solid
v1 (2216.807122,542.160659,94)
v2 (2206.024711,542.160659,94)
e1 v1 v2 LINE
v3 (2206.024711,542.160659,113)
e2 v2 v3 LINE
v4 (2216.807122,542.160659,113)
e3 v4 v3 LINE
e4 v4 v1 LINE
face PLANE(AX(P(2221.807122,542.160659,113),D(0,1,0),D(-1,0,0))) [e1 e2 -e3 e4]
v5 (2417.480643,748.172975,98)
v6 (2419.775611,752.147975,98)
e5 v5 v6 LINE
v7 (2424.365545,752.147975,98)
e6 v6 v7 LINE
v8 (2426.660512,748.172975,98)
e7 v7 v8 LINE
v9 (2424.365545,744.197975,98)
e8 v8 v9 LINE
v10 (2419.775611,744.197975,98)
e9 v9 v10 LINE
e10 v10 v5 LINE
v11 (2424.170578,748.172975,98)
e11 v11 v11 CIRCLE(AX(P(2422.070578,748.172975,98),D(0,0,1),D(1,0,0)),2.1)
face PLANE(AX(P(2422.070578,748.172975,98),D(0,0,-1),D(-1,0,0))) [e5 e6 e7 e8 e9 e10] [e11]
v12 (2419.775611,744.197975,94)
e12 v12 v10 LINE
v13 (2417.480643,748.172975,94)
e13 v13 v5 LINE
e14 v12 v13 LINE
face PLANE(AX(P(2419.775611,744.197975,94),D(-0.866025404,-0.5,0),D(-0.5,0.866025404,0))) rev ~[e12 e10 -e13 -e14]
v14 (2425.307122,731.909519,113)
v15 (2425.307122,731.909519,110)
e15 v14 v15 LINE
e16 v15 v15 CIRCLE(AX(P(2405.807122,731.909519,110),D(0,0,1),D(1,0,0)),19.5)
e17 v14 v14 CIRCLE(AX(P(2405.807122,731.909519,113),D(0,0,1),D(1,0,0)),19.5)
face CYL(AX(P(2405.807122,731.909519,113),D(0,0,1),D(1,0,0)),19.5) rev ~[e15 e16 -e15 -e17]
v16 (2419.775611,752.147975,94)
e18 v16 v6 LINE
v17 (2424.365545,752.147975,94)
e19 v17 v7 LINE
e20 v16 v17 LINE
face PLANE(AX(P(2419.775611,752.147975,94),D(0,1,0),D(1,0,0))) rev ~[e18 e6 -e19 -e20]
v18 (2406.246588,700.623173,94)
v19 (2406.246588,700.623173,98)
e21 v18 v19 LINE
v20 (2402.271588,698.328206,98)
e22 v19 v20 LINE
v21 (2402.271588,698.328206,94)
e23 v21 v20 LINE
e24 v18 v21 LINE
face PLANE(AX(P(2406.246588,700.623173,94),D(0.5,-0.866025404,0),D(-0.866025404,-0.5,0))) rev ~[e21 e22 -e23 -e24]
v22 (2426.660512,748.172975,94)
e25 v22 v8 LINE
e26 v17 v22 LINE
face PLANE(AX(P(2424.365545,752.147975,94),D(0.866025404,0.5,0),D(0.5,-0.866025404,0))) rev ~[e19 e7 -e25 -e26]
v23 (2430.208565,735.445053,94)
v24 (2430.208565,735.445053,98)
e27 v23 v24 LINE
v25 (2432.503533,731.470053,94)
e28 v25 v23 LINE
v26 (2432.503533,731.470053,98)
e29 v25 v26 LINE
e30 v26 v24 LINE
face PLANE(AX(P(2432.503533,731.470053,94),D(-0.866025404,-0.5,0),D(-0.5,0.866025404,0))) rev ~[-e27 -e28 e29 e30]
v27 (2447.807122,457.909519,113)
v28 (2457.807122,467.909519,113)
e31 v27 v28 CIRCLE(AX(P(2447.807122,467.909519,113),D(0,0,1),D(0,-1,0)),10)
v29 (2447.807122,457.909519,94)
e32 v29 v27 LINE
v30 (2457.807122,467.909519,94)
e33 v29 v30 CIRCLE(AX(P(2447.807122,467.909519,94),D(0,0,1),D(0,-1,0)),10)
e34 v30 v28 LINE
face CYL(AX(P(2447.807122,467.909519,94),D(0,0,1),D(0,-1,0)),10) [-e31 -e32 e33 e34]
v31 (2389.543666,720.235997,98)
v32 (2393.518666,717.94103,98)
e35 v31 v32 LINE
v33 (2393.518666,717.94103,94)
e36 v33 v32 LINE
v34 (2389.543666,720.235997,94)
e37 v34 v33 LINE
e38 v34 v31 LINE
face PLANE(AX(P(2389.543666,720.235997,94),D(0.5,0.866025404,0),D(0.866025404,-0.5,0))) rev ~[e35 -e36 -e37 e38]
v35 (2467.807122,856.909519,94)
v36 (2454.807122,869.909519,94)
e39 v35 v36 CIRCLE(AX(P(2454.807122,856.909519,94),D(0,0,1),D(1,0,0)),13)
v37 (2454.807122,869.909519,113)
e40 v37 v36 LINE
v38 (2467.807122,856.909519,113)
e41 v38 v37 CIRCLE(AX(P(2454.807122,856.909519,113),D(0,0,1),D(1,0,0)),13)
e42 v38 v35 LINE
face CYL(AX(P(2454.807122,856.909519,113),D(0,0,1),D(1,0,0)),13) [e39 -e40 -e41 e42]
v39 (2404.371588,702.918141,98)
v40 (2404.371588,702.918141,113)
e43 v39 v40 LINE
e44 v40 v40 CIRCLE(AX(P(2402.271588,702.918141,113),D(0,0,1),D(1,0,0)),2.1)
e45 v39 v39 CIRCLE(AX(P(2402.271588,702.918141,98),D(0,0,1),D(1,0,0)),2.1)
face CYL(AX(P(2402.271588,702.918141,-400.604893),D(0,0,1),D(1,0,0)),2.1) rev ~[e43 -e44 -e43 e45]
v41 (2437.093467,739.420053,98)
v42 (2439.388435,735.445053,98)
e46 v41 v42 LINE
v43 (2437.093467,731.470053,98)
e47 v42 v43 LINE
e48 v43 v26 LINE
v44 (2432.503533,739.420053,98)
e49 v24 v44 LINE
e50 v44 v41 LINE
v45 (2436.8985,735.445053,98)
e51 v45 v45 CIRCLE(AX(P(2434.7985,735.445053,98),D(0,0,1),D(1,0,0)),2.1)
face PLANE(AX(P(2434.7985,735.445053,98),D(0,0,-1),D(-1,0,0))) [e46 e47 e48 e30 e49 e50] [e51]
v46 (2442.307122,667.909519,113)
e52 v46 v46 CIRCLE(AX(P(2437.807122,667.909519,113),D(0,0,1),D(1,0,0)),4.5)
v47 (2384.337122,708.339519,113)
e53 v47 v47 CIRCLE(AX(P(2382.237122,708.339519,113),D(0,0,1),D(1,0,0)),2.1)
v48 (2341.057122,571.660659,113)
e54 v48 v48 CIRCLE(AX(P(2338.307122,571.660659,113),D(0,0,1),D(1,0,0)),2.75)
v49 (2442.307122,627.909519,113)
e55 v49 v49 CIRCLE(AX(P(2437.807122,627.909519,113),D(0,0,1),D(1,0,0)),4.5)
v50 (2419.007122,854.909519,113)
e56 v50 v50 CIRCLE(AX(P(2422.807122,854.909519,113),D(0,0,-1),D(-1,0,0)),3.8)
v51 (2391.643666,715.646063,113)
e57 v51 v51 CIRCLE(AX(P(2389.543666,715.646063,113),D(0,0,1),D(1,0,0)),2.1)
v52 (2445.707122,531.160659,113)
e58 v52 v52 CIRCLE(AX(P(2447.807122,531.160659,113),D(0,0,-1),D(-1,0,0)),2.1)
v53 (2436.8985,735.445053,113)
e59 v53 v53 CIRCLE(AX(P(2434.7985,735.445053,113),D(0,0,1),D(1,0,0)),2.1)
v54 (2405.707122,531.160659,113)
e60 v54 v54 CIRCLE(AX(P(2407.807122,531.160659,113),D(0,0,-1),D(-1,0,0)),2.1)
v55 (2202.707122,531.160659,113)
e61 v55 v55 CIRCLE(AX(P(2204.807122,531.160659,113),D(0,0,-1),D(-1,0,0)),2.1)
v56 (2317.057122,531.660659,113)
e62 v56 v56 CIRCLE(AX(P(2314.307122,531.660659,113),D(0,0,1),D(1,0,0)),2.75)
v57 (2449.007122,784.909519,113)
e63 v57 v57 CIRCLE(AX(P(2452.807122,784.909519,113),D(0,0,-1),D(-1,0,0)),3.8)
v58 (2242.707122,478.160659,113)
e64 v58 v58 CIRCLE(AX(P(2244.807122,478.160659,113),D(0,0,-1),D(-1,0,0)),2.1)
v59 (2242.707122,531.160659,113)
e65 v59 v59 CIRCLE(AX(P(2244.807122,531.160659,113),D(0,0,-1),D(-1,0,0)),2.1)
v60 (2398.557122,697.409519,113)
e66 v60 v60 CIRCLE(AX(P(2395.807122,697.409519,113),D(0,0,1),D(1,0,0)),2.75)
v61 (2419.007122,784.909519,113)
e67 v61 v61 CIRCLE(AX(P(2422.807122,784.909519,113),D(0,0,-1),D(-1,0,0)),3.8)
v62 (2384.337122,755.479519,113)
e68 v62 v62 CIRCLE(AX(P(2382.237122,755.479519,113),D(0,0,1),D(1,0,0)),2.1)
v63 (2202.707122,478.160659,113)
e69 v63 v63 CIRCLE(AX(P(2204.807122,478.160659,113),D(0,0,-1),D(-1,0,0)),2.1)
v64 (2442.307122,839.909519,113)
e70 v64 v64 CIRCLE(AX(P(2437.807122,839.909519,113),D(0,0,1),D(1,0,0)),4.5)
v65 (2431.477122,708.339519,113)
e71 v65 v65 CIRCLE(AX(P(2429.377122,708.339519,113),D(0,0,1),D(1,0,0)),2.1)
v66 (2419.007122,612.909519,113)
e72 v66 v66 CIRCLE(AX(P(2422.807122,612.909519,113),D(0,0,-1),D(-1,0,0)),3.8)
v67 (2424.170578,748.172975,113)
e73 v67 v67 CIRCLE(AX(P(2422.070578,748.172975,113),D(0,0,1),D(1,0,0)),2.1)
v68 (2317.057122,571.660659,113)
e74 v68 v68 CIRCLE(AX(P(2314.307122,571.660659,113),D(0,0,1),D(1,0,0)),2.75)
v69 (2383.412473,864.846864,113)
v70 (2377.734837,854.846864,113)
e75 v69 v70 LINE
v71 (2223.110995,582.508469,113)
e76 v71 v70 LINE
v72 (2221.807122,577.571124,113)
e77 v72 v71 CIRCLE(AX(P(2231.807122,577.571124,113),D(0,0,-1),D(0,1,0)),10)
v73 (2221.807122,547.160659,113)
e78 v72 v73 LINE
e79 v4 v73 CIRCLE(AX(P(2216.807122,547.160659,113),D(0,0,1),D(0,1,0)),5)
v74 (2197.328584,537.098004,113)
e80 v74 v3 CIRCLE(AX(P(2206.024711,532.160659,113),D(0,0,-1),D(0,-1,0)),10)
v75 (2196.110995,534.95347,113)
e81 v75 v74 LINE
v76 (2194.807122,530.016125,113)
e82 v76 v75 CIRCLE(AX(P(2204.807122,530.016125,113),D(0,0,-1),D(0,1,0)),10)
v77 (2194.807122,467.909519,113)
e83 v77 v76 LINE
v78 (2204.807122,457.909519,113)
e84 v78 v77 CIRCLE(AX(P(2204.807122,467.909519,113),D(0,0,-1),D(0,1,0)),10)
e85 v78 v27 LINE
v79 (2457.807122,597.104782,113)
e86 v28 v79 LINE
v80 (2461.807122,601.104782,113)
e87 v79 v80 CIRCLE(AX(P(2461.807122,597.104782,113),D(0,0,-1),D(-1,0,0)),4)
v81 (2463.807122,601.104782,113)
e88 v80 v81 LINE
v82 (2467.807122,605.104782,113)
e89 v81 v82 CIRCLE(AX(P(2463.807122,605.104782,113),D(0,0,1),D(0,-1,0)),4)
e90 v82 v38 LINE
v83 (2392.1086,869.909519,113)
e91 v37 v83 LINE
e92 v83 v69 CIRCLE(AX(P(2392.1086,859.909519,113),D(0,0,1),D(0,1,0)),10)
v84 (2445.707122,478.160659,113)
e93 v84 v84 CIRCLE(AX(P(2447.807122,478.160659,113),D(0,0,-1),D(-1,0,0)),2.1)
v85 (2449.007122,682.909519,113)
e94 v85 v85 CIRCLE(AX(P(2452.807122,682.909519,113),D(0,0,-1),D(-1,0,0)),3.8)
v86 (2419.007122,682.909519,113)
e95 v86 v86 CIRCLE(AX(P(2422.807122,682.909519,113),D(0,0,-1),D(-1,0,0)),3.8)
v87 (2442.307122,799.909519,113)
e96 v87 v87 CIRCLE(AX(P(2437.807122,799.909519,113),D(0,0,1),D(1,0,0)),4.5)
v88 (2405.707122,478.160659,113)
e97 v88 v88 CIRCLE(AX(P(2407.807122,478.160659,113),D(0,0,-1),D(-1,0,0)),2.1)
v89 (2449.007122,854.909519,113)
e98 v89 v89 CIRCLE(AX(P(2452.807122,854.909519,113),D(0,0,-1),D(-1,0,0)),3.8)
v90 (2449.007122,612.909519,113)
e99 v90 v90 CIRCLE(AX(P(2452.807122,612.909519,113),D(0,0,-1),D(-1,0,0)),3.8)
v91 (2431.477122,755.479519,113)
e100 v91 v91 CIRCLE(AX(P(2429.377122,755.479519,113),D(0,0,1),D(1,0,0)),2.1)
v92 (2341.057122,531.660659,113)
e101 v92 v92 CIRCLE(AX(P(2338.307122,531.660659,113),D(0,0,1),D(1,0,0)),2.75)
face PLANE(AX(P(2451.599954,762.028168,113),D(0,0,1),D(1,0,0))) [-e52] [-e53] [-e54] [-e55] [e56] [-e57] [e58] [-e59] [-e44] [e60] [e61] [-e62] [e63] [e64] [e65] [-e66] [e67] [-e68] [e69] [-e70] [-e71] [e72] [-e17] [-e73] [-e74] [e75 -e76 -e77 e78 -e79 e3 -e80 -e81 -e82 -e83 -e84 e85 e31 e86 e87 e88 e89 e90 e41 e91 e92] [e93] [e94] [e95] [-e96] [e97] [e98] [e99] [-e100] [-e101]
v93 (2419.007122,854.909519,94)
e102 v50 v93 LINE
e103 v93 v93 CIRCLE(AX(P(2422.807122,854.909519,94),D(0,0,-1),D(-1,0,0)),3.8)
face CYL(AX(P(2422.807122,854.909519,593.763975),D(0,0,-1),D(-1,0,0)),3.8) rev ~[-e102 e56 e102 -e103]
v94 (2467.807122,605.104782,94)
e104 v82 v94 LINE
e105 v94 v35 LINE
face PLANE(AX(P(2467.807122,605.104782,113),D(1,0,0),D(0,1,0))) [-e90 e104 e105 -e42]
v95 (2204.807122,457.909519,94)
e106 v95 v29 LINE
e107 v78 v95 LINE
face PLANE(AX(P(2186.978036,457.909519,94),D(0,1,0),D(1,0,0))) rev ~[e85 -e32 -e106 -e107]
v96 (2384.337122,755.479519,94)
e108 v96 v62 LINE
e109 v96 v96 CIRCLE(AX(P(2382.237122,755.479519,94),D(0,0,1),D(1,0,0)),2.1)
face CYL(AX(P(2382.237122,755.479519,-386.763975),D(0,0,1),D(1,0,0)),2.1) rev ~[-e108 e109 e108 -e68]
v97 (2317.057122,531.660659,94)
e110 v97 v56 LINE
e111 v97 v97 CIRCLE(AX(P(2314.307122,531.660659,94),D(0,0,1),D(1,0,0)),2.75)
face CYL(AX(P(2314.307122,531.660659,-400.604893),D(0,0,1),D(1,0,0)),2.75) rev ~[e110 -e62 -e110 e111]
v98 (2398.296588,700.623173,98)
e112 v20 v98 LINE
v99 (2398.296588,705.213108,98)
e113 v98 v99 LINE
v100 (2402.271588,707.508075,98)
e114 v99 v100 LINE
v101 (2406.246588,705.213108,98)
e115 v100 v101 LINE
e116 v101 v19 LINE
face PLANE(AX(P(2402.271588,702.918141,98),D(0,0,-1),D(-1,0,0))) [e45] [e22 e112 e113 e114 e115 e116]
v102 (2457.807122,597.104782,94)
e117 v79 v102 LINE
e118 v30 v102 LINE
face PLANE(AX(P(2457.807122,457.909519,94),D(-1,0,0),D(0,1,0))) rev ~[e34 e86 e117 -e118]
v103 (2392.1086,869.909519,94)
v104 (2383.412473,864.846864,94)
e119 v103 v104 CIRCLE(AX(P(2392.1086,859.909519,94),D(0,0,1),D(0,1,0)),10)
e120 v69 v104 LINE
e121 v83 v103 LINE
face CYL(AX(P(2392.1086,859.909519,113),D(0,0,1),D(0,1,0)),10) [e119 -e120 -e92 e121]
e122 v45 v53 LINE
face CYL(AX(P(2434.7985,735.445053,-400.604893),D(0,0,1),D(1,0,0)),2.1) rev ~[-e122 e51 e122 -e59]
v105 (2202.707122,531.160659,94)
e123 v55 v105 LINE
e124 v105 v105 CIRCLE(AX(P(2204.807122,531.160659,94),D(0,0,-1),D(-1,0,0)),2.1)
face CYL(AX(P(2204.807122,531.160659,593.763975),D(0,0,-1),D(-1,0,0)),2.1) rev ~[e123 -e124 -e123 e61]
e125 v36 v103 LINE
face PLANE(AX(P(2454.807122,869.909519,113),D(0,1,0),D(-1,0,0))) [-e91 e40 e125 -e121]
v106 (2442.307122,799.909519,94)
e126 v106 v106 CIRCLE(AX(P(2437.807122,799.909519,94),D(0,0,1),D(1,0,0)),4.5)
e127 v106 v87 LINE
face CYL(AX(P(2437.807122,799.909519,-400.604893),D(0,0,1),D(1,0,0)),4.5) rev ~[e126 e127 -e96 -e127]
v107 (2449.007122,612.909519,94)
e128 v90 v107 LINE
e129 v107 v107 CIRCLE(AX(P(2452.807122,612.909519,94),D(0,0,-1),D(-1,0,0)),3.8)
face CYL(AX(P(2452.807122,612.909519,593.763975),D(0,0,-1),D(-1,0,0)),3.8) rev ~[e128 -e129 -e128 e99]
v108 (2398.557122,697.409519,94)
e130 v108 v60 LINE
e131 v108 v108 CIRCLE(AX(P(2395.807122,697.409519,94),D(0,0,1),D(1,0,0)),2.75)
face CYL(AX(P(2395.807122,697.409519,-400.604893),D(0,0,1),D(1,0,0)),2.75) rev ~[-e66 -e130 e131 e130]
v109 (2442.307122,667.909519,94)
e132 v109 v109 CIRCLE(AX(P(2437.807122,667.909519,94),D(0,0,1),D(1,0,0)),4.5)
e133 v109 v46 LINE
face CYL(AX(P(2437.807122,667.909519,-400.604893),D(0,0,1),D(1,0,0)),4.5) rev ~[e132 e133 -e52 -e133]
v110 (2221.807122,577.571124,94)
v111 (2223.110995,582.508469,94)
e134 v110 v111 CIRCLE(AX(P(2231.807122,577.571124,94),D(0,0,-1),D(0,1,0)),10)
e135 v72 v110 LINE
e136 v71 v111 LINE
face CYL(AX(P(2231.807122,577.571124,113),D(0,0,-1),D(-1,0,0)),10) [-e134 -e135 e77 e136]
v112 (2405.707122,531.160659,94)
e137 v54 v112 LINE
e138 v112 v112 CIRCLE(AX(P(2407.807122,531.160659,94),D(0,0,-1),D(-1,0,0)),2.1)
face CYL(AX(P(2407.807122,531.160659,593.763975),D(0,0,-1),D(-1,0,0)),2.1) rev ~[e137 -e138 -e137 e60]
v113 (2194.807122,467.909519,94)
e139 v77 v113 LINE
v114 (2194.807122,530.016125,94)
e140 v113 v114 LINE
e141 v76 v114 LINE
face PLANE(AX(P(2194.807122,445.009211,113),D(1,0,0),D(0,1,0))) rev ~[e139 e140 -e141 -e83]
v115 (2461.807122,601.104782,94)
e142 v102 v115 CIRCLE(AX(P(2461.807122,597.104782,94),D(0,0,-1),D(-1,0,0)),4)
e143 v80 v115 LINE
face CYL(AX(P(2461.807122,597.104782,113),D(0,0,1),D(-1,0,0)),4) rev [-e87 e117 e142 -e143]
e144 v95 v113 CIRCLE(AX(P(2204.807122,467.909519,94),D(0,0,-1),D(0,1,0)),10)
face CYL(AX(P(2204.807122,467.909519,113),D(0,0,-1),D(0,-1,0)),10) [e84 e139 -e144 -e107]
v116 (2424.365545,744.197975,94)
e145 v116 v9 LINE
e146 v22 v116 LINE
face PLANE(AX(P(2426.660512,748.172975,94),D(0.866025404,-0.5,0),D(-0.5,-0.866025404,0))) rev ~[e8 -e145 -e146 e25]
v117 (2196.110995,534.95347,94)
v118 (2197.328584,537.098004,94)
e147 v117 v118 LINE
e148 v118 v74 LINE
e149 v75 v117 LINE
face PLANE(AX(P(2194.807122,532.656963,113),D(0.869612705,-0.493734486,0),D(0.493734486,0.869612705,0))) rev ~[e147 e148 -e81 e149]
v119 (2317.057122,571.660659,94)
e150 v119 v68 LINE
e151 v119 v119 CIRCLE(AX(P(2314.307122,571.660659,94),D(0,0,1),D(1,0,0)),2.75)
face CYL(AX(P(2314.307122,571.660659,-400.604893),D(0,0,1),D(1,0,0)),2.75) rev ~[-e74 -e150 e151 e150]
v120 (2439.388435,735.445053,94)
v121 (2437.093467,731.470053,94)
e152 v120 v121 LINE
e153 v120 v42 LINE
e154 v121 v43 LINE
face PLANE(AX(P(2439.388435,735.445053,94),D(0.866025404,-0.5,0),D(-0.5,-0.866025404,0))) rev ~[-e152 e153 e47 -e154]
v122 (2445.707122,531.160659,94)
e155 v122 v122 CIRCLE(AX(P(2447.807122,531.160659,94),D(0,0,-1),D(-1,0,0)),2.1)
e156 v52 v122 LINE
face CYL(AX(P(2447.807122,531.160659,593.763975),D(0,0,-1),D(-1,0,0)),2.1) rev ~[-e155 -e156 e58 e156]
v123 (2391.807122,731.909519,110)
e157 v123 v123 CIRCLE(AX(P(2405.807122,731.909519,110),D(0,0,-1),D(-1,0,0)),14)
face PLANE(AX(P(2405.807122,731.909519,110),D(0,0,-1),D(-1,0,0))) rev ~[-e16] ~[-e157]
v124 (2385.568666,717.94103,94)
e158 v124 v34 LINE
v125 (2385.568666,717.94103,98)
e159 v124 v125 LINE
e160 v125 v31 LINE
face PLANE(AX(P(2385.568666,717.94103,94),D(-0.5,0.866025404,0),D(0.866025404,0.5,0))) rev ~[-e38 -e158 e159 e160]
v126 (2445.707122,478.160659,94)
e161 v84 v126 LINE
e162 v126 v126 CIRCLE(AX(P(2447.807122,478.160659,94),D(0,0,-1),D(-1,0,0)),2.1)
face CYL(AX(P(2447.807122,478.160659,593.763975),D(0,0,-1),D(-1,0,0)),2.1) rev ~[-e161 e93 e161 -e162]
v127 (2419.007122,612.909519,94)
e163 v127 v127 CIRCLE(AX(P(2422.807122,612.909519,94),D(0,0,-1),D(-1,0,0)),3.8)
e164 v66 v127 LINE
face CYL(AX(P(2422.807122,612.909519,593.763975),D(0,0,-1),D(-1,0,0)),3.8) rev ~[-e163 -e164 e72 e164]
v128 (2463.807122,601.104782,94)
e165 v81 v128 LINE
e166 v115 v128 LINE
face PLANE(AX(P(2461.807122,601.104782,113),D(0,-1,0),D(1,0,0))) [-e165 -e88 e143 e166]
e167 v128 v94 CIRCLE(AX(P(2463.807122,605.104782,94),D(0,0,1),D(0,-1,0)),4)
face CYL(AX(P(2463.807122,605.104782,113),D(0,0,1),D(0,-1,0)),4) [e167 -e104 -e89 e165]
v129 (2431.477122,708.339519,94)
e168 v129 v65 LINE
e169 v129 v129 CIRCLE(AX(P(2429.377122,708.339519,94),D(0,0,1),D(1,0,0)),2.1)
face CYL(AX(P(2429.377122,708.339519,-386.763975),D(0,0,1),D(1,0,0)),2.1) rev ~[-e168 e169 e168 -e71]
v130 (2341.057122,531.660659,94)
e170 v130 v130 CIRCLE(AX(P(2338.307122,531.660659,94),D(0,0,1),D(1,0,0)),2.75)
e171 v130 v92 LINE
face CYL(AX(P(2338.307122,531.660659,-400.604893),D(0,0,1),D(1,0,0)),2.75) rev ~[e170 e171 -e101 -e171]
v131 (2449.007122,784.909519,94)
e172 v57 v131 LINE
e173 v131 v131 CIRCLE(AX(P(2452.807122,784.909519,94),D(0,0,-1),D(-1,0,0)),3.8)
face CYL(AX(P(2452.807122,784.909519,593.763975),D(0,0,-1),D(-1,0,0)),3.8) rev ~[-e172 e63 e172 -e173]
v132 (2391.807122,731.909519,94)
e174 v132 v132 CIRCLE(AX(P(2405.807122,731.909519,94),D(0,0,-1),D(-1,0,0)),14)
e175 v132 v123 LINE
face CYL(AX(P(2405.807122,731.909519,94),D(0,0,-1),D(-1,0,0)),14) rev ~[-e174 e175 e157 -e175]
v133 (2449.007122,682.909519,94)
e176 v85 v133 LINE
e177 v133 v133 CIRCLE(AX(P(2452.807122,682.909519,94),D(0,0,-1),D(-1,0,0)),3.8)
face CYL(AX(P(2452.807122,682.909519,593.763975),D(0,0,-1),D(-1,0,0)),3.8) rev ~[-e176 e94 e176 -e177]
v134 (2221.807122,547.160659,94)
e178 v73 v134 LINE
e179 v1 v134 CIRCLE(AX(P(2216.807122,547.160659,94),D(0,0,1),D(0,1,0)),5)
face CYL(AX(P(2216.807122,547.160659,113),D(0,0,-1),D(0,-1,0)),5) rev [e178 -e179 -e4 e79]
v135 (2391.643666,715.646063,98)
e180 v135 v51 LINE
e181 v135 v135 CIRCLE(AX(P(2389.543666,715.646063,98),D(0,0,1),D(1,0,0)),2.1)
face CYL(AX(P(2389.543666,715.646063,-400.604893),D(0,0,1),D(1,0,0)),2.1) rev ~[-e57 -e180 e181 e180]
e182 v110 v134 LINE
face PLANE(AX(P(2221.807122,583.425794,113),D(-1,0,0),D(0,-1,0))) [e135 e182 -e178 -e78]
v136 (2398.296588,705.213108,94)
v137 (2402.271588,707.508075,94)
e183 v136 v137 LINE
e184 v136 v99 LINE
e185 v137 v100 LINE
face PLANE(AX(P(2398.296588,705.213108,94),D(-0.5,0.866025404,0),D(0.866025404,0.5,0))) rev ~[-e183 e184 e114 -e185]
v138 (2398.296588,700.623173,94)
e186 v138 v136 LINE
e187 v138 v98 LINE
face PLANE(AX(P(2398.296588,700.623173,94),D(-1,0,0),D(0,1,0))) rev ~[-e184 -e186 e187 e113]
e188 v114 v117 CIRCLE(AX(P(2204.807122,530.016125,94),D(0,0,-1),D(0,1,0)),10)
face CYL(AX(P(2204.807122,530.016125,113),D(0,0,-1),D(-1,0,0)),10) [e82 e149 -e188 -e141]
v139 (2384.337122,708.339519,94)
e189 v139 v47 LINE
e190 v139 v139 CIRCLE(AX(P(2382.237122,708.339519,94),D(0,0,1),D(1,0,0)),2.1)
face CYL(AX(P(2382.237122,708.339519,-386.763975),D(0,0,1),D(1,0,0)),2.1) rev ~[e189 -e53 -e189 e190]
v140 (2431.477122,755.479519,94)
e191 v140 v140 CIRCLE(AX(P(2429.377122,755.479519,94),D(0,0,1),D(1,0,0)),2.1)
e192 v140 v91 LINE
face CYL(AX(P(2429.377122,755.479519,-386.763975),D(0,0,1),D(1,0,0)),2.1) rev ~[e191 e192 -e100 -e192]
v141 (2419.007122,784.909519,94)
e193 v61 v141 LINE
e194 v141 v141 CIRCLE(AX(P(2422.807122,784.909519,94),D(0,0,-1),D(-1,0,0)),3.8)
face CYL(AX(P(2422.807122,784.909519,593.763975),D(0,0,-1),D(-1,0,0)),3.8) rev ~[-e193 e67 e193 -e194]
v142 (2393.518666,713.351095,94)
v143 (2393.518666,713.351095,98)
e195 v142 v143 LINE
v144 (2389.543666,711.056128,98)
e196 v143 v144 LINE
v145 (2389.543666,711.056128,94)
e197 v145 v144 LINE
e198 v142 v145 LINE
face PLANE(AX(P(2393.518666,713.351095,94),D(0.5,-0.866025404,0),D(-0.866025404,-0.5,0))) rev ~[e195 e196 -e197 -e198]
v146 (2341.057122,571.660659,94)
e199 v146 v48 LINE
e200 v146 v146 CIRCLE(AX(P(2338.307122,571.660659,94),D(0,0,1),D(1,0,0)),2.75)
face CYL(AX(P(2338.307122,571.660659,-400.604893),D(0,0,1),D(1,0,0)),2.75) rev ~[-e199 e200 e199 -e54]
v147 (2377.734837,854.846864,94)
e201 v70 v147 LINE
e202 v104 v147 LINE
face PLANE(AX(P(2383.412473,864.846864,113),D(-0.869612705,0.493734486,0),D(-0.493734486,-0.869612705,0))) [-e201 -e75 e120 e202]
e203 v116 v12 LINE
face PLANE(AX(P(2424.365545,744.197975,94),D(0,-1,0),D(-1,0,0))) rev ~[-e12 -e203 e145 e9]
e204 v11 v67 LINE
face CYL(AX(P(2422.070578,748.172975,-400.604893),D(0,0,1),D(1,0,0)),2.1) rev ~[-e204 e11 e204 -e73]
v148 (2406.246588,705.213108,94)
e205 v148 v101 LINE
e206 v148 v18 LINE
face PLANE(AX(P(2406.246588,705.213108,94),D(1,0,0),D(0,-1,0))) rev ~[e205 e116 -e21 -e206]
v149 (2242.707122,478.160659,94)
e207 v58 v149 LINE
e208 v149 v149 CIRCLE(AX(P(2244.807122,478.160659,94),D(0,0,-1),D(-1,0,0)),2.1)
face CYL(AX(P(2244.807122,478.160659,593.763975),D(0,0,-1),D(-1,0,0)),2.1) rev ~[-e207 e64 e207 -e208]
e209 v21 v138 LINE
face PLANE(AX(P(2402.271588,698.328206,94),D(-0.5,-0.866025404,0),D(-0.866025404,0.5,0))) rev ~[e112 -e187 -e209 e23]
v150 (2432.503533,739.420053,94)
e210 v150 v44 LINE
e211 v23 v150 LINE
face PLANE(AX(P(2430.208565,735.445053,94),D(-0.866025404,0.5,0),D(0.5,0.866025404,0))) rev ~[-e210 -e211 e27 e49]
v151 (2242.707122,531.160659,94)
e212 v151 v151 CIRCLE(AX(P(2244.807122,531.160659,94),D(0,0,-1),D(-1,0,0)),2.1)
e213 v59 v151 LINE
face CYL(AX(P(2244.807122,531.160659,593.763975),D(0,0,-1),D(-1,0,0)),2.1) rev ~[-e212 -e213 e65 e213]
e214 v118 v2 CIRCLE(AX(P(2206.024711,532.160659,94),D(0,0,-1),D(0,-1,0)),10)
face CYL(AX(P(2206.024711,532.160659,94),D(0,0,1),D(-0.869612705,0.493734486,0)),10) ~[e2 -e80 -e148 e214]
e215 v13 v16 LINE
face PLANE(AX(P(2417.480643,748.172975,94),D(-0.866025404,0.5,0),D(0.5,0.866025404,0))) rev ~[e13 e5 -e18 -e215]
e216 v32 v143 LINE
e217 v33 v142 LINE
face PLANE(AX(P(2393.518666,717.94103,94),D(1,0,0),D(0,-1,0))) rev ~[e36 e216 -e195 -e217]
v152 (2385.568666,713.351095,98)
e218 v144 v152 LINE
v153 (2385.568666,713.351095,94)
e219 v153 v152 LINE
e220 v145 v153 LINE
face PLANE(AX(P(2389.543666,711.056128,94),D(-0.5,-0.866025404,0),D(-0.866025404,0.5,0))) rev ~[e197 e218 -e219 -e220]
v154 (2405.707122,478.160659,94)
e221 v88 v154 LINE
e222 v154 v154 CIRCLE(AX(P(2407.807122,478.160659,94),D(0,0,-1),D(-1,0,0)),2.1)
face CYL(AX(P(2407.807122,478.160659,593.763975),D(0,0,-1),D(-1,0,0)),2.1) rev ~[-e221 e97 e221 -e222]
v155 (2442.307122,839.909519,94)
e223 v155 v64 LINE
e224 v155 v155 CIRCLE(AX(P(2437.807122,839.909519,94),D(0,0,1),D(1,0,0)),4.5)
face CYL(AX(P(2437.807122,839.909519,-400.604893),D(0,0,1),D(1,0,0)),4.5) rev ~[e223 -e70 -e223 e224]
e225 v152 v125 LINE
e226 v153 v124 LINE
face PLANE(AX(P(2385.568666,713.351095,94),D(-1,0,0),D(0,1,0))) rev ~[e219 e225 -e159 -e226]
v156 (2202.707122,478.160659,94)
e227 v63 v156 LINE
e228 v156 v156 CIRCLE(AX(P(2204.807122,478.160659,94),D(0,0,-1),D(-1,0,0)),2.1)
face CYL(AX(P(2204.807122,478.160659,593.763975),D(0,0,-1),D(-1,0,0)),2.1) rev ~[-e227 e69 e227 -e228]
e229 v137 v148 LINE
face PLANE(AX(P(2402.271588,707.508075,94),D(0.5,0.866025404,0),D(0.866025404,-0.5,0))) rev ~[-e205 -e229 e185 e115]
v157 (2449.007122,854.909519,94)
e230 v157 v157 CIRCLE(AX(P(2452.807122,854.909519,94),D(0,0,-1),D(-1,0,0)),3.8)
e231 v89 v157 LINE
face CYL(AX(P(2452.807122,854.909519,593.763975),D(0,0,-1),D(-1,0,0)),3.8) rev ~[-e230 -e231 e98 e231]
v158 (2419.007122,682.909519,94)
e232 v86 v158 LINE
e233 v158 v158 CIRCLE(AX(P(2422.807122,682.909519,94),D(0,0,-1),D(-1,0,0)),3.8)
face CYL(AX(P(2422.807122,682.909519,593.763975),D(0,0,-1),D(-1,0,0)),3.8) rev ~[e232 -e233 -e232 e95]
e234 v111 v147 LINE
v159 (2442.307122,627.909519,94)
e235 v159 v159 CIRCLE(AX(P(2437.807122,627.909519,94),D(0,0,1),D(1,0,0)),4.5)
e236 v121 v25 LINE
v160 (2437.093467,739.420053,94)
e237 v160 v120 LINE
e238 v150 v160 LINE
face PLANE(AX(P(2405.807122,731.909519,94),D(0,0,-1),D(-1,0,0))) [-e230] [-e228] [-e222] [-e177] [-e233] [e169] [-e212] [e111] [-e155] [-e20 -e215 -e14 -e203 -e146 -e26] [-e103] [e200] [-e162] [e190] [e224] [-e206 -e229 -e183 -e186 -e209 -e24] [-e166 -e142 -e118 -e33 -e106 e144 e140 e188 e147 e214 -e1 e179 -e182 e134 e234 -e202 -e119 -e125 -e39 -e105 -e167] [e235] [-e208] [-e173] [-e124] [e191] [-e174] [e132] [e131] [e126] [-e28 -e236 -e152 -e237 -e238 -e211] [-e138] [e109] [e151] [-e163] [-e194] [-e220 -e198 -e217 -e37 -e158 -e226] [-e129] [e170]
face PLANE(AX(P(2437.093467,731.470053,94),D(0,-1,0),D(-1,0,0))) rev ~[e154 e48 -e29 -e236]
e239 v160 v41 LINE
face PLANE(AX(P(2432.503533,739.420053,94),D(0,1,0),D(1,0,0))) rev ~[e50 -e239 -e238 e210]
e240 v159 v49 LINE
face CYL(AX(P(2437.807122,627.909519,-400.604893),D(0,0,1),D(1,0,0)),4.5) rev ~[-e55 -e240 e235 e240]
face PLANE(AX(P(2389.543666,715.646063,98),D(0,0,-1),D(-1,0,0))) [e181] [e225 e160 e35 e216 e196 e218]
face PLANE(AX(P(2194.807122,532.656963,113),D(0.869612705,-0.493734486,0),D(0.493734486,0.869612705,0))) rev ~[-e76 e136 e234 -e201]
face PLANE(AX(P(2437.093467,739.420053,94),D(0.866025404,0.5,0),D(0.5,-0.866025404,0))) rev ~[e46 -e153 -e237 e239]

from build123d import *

# Parameters (mm, degrees)
SKETCH2_W               = 270.829085825
SKETCH2_H               = 402
BOSS_EXTRUDE1_DEPTH     = 19
SKETCH3_W               = 7.829085824
SKETCH3_H               = 419.560715459
CUT_EXTRUDE1_DEPTH      = 20
CUT_EXTRUDE2_DEPTH      = 20
FILLET1_R               = 10
TAP_DRILL_FOR_M5_TAP1_D = 4.2
FILLET2_R               = 3
M7_CLEARANCE_HOLE1_D    = 7.6
SKETCH11_R              = 19.5
CUT_EXTRUDE4_DEPTH      = 32.266788686
CUT_EXTRUDE5_DEPTH      = 20
FILLET3_R               = 10
FILLET4_R               = 5
TAP_DRILL_FOR_M5_TAP2_D = 4.2
BOSS_EXTRUDE2_DEPTH     = 19
SKETCH16_R              = 19.5
SKETCH16_R_2            = 14
BOSS_EXTRUDE3_DEPTH     = 16
M5_CLEARANCE_HOLE4_D    = 5.5
M5_CLEARANCE_HOLE5_D    = 5.5
M8_CLEARANCE_HOLE1_D    = 9
TAP_DRILL_FOR_M5_TAP3_D = 4.2
CUT_EXTRUDE6_DEPTH      = 4


with BuildPart() as part:
    # Sketch2 → Boss-Extrude1 (new body)
    with BuildSketch(Plane.XY.offset(94)):
        with Locations((2322.392578952, 658.909518743)):
            Rectangle(SKETCH2_W, SKETCH2_H)
    extrude(amount=BOSS_EXTRUDE1_DEPTH)

    # Sketch3 → Cut-Extrude1 (cut)
    with BuildSketch(Plane.XY.offset(113)):
        with Locations((2190.892578951, 654.789569031)):
            Rectangle(SKETCH3_W, SKETCH3_H)
    extrude(amount=-CUT_EXTRUDE1_DEPTH, mode=Mode.SUBTRACT)

    # Sketch4 → Cut-Extrude2 (cut)
    with BuildSketch(Plane.XY.offset(113)):
        Polygon((2194.807121863, 532.656963015), (2380.609228318, 859.909518743), (2194.807121863, 859.909518743), align=None)
    extrude(amount=-CUT_EXTRUDE2_DEPTH, mode=Mode.SUBTRACT)

    # Fillet1
    fillet1_edges = [part.edges().sort_by_distance(p)[0] for p in [
        (2194.807121863, 457.909518743, 103.5),
        (2194.807121863, 532.656963015, 103.5),
        (2380.609228318, 859.909518743, 103.5),
        (2457.807121864, 457.909518743, 103.5),
    ]]
    fillet(fillet1_edges, radius=FILLET1_R)

    # Tap Drill for M5 Tap1 (through all)
    with Locations(Plane.XY.offset(113)):
        with Locations((2338.307121864, 531.660659234), (2314.307121864, 531.660659234), (2314.307121864, 571.660659234), (2338.307121864, 571.660659234), (2447.807121864, 531.160659234), (2447.807121864, 478.160659234), (2407.807121864, 478.160659234), (2407.807121864, 531.160659234), (2244.807121863, 531.160659234), (2244.807121863, 478.160659234), (2204.807121863, 478.160659234), (2204.807121863, 531.160659234)):
            Hole(TAP_DRILL_FOR_M5_TAP1_D / 2)

    # Fillet2
    fillet2_edges = [part.edges().sort_by_distance(p)[0] for p in [
        (2457.807121864, 859.909518743, 103.5),
    ]]
    fillet(fillet2_edges, radius=FILLET2_R)

    # M7 Clearance Hole1 (through all)
    with Locations(Plane.XY.offset(113)):
        with Locations((2422.807121864, 612.909518743), (2437.807121864, 627.909518743), (2452.807121864, 612.909518743), (2452.807121864, 682.909518743), (2437.807121864, 667.909518743), (2422.807121864, 682.909518743), (2452.807121864, 784.909518743), (2422.807121864, 854.909518743), (2452.807121864, 854.909518743), (2422.807121864, 784.909518743), (2437.807121864, 799.909518743), (2437.807121864, 839.909518743)):
            Hole(M7_CLEARANCE_HOLE1_D / 2)

    # Sketch11 → Cut-Extrude4 (cut)
    with BuildSketch(Plane.XY.offset(113)):
        with Locations((2405.807121866, 731.909518744)):
            Circle(SKETCH11_R)
    extrude(amount=-CUT_EXTRUDE4_DEPTH, mode=Mode.SUBTRACT)

    # Sketch12 → Cut-Extrude5 (cut)
    with BuildSketch(Plane.XY.offset(113)):
        Polygon((2221.807121863, 542.160659234), (2189.780449764, 542.160659234), (2221.807121863, 583.425794439), align=None)
    extrude(amount=-CUT_EXTRUDE5_DEPTH, mode=Mode.SUBTRACT)

    # Fillet3
    fillet3_edges = [part.edges().sort_by_distance(p)[0] for p in [
        (2200.202975144, 542.160659234, 103.5),
        (2221.807121863, 580.211962112, 103.5),
    ]]
    fillet(fillet3_edges, radius=FILLET3_R)

    # Fillet4
    fillet4_edges = [part.edges().sort_by_distance(p)[0] for p in [
        (2221.807121863, 542.160659234, 103.5),
    ]]
    fillet(fillet4_edges, radius=FILLET4_R)

    # Tap Drill for M5 Tap2 (through all)
    with Locations(Plane(origin=(0, 0, 94), x_dir=(-1, 0, 0), z_dir=(0, 0, -1))):
        with Locations((-2429.377121866, 755.479518745), (-2382.237121866, 755.479518745), (-2429.377121866, 708.339518745), (-2382.237121866, 708.339518745)):
            Hole(TAP_DRILL_FOR_M5_TAP2_D / 2)

    # Sketch15 → Boss-Extrude2 (add)
    with BuildSketch(Plane.XY.offset(113)):
        with BuildLine():
            Line((2457.807121864, 856.909518743), (2457.807121864, 597.10478226))
            ThreePointArc((2457.807121864, 597.10478226), (2458.978694739, 599.933209385), (2461.807121864, 601.10478226))
            Line((2461.807121864, 601.10478226), (2463.807121864, 601.10478226))
            ThreePointArc((2463.807121864, 601.10478226), (2466.635548988, 602.276355135), (2467.807121864, 605.10478226))
            Line((2467.807121864, 605.10478226), (2467.807121864, 856.909518743))
            ThreePointArc((2467.807121864, 856.909518743), (2463.999510019, 866.101906899), (2454.807121864, 869.909518743))
            Line((2454.807121864, 869.909518743), (2392.108600325, 869.909518743))
            ThreePointArc((2392.108600325, 869.909518743), (2387.077370287, 868.551666874), (2383.412473272, 864.846863605))
            Line((2383.412473272, 864.846863605), (2377.734836743, 854.846863605))
            ThreePointArc((2377.734836743, 854.846863605), (2381.399733758, 858.551666874), (2386.430963796, 859.909518743))
            Line((2386.430963796, 859.909518743), (2454.807121864, 859.909518743))
            ThreePointArc((2454.807121864, 859.909518743), (2456.928442207, 859.030839087), (2457.807121864, 856.909518743))
        make_face()
    extrude(amount=-BOSS_EXTRUDE2_DEPTH)

    # Sketch16 → Boss-Extrude3 (add)
    with BuildSketch(Plane(origin=(0, 0, 94), x_dir=(-1, 0, 0), z_dir=(0, 0, -1))):
        with Locations((-2405.807121866, 731.909518744)):
            Circle(SKETCH16_R)
        with Locations((-2405.807121866, 731.909518744)):
            Circle(SKETCH16_R_2, mode=Mode.SUBTRACT)
    extrude(amount=-BOSS_EXTRUDE3_DEPTH)

    # M5 Clearance Hole4 (through all)
    with Locations(Plane(origin=(0, 0, 94), x_dir=(-1, 0, 0), z_dir=(0, 0, -1))):
        with Locations((-2395.807121866, 697.409518744)):
            Hole(M5_CLEARANCE_HOLE4_D / 2)

    # M5 Clearance Hole5 (through all)
    with Locations(Plane(origin=(0, 0, 94), x_dir=(-1, 0, 0), z_dir=(0, 0, -1))):
        with Locations((-2338.307121864, 531.660659234), (-2314.307121864, 531.660659234), (-2314.307121864, 571.660659234), (-2338.307121864, 571.660659234)):
            Hole(M5_CLEARANCE_HOLE5_D / 2)

    # M8 Clearance Hole1 (through all)
    with Locations(Plane(origin=(0, 0, 94), x_dir=(-1, 0, 0), z_dir=(0, 0, -1))):
        with Locations((-2437.807121864, 627.909518743), (-2437.807121864, 667.909518743), (-2437.807121864, 799.909518743), (-2437.807121864, 839.909518743)):
            Hole(M8_CLEARANCE_HOLE1_D / 2)

    # Tap Drill for M5 Tap3 (through all)
    with Locations(Plane(origin=(0, 0, 94), x_dir=(-1, 0, 0), z_dir=(0, 0, -1))):
        with Locations((-2422.070577833, 748.172974712), (-2434.798499894, 735.445052651), (-2402.27158796, 702.918140716), (-2389.543665898, 715.646062777)):
            Hole(TAP_DRILL_FOR_M5_TAP3_D / 2)

    # Sketch25 → Cut-Extrude6 (cut)
    with BuildSketch(Plane(origin=(0, 0, 94), x_dir=(-1, 0, 0), z_dir=(0, 0, -1))):
        Polygon((-2430.208565254, 735.445052651), (-2432.503532574, 739.420052651), (-2437.093467214, 739.420052651), (-2439.388434534, 735.445052651), (-2437.093467214, 731.470052651), (-2432.503532574, 731.470052651), align=None)
        Polygon((-2426.660512473, 748.172974712), (-2424.365545153, 744.197974712), (-2419.775610513, 744.197974712), (-2417.480643193, 748.172974712), (-2419.775610513, 752.147974712), (-2424.365545153, 752.147974712), align=None)
        Polygon((-2402.27158796, 707.508075356), (-2406.24658796, 705.213108036), (-2406.24658796, 700.623173396), (-2402.27158796, 698.328206076), (-2398.29658796, 700.623173396), (-2398.29658796, 705.213108036), align=None)
        Polygon((-2389.543665898, 720.235997418), (-2393.518665898, 717.941030098), (-2393.518665898, 713.351095457), (-2389.543665898, 711.056128137), (-2385.568665898, 713.351095457), (-2385.568665898, 717.941030098), align=None)
    extrude(amount=-CUT_EXTRUDE6_DEPTH, mode=Mode.SUBTRACT)


solid = part.part
